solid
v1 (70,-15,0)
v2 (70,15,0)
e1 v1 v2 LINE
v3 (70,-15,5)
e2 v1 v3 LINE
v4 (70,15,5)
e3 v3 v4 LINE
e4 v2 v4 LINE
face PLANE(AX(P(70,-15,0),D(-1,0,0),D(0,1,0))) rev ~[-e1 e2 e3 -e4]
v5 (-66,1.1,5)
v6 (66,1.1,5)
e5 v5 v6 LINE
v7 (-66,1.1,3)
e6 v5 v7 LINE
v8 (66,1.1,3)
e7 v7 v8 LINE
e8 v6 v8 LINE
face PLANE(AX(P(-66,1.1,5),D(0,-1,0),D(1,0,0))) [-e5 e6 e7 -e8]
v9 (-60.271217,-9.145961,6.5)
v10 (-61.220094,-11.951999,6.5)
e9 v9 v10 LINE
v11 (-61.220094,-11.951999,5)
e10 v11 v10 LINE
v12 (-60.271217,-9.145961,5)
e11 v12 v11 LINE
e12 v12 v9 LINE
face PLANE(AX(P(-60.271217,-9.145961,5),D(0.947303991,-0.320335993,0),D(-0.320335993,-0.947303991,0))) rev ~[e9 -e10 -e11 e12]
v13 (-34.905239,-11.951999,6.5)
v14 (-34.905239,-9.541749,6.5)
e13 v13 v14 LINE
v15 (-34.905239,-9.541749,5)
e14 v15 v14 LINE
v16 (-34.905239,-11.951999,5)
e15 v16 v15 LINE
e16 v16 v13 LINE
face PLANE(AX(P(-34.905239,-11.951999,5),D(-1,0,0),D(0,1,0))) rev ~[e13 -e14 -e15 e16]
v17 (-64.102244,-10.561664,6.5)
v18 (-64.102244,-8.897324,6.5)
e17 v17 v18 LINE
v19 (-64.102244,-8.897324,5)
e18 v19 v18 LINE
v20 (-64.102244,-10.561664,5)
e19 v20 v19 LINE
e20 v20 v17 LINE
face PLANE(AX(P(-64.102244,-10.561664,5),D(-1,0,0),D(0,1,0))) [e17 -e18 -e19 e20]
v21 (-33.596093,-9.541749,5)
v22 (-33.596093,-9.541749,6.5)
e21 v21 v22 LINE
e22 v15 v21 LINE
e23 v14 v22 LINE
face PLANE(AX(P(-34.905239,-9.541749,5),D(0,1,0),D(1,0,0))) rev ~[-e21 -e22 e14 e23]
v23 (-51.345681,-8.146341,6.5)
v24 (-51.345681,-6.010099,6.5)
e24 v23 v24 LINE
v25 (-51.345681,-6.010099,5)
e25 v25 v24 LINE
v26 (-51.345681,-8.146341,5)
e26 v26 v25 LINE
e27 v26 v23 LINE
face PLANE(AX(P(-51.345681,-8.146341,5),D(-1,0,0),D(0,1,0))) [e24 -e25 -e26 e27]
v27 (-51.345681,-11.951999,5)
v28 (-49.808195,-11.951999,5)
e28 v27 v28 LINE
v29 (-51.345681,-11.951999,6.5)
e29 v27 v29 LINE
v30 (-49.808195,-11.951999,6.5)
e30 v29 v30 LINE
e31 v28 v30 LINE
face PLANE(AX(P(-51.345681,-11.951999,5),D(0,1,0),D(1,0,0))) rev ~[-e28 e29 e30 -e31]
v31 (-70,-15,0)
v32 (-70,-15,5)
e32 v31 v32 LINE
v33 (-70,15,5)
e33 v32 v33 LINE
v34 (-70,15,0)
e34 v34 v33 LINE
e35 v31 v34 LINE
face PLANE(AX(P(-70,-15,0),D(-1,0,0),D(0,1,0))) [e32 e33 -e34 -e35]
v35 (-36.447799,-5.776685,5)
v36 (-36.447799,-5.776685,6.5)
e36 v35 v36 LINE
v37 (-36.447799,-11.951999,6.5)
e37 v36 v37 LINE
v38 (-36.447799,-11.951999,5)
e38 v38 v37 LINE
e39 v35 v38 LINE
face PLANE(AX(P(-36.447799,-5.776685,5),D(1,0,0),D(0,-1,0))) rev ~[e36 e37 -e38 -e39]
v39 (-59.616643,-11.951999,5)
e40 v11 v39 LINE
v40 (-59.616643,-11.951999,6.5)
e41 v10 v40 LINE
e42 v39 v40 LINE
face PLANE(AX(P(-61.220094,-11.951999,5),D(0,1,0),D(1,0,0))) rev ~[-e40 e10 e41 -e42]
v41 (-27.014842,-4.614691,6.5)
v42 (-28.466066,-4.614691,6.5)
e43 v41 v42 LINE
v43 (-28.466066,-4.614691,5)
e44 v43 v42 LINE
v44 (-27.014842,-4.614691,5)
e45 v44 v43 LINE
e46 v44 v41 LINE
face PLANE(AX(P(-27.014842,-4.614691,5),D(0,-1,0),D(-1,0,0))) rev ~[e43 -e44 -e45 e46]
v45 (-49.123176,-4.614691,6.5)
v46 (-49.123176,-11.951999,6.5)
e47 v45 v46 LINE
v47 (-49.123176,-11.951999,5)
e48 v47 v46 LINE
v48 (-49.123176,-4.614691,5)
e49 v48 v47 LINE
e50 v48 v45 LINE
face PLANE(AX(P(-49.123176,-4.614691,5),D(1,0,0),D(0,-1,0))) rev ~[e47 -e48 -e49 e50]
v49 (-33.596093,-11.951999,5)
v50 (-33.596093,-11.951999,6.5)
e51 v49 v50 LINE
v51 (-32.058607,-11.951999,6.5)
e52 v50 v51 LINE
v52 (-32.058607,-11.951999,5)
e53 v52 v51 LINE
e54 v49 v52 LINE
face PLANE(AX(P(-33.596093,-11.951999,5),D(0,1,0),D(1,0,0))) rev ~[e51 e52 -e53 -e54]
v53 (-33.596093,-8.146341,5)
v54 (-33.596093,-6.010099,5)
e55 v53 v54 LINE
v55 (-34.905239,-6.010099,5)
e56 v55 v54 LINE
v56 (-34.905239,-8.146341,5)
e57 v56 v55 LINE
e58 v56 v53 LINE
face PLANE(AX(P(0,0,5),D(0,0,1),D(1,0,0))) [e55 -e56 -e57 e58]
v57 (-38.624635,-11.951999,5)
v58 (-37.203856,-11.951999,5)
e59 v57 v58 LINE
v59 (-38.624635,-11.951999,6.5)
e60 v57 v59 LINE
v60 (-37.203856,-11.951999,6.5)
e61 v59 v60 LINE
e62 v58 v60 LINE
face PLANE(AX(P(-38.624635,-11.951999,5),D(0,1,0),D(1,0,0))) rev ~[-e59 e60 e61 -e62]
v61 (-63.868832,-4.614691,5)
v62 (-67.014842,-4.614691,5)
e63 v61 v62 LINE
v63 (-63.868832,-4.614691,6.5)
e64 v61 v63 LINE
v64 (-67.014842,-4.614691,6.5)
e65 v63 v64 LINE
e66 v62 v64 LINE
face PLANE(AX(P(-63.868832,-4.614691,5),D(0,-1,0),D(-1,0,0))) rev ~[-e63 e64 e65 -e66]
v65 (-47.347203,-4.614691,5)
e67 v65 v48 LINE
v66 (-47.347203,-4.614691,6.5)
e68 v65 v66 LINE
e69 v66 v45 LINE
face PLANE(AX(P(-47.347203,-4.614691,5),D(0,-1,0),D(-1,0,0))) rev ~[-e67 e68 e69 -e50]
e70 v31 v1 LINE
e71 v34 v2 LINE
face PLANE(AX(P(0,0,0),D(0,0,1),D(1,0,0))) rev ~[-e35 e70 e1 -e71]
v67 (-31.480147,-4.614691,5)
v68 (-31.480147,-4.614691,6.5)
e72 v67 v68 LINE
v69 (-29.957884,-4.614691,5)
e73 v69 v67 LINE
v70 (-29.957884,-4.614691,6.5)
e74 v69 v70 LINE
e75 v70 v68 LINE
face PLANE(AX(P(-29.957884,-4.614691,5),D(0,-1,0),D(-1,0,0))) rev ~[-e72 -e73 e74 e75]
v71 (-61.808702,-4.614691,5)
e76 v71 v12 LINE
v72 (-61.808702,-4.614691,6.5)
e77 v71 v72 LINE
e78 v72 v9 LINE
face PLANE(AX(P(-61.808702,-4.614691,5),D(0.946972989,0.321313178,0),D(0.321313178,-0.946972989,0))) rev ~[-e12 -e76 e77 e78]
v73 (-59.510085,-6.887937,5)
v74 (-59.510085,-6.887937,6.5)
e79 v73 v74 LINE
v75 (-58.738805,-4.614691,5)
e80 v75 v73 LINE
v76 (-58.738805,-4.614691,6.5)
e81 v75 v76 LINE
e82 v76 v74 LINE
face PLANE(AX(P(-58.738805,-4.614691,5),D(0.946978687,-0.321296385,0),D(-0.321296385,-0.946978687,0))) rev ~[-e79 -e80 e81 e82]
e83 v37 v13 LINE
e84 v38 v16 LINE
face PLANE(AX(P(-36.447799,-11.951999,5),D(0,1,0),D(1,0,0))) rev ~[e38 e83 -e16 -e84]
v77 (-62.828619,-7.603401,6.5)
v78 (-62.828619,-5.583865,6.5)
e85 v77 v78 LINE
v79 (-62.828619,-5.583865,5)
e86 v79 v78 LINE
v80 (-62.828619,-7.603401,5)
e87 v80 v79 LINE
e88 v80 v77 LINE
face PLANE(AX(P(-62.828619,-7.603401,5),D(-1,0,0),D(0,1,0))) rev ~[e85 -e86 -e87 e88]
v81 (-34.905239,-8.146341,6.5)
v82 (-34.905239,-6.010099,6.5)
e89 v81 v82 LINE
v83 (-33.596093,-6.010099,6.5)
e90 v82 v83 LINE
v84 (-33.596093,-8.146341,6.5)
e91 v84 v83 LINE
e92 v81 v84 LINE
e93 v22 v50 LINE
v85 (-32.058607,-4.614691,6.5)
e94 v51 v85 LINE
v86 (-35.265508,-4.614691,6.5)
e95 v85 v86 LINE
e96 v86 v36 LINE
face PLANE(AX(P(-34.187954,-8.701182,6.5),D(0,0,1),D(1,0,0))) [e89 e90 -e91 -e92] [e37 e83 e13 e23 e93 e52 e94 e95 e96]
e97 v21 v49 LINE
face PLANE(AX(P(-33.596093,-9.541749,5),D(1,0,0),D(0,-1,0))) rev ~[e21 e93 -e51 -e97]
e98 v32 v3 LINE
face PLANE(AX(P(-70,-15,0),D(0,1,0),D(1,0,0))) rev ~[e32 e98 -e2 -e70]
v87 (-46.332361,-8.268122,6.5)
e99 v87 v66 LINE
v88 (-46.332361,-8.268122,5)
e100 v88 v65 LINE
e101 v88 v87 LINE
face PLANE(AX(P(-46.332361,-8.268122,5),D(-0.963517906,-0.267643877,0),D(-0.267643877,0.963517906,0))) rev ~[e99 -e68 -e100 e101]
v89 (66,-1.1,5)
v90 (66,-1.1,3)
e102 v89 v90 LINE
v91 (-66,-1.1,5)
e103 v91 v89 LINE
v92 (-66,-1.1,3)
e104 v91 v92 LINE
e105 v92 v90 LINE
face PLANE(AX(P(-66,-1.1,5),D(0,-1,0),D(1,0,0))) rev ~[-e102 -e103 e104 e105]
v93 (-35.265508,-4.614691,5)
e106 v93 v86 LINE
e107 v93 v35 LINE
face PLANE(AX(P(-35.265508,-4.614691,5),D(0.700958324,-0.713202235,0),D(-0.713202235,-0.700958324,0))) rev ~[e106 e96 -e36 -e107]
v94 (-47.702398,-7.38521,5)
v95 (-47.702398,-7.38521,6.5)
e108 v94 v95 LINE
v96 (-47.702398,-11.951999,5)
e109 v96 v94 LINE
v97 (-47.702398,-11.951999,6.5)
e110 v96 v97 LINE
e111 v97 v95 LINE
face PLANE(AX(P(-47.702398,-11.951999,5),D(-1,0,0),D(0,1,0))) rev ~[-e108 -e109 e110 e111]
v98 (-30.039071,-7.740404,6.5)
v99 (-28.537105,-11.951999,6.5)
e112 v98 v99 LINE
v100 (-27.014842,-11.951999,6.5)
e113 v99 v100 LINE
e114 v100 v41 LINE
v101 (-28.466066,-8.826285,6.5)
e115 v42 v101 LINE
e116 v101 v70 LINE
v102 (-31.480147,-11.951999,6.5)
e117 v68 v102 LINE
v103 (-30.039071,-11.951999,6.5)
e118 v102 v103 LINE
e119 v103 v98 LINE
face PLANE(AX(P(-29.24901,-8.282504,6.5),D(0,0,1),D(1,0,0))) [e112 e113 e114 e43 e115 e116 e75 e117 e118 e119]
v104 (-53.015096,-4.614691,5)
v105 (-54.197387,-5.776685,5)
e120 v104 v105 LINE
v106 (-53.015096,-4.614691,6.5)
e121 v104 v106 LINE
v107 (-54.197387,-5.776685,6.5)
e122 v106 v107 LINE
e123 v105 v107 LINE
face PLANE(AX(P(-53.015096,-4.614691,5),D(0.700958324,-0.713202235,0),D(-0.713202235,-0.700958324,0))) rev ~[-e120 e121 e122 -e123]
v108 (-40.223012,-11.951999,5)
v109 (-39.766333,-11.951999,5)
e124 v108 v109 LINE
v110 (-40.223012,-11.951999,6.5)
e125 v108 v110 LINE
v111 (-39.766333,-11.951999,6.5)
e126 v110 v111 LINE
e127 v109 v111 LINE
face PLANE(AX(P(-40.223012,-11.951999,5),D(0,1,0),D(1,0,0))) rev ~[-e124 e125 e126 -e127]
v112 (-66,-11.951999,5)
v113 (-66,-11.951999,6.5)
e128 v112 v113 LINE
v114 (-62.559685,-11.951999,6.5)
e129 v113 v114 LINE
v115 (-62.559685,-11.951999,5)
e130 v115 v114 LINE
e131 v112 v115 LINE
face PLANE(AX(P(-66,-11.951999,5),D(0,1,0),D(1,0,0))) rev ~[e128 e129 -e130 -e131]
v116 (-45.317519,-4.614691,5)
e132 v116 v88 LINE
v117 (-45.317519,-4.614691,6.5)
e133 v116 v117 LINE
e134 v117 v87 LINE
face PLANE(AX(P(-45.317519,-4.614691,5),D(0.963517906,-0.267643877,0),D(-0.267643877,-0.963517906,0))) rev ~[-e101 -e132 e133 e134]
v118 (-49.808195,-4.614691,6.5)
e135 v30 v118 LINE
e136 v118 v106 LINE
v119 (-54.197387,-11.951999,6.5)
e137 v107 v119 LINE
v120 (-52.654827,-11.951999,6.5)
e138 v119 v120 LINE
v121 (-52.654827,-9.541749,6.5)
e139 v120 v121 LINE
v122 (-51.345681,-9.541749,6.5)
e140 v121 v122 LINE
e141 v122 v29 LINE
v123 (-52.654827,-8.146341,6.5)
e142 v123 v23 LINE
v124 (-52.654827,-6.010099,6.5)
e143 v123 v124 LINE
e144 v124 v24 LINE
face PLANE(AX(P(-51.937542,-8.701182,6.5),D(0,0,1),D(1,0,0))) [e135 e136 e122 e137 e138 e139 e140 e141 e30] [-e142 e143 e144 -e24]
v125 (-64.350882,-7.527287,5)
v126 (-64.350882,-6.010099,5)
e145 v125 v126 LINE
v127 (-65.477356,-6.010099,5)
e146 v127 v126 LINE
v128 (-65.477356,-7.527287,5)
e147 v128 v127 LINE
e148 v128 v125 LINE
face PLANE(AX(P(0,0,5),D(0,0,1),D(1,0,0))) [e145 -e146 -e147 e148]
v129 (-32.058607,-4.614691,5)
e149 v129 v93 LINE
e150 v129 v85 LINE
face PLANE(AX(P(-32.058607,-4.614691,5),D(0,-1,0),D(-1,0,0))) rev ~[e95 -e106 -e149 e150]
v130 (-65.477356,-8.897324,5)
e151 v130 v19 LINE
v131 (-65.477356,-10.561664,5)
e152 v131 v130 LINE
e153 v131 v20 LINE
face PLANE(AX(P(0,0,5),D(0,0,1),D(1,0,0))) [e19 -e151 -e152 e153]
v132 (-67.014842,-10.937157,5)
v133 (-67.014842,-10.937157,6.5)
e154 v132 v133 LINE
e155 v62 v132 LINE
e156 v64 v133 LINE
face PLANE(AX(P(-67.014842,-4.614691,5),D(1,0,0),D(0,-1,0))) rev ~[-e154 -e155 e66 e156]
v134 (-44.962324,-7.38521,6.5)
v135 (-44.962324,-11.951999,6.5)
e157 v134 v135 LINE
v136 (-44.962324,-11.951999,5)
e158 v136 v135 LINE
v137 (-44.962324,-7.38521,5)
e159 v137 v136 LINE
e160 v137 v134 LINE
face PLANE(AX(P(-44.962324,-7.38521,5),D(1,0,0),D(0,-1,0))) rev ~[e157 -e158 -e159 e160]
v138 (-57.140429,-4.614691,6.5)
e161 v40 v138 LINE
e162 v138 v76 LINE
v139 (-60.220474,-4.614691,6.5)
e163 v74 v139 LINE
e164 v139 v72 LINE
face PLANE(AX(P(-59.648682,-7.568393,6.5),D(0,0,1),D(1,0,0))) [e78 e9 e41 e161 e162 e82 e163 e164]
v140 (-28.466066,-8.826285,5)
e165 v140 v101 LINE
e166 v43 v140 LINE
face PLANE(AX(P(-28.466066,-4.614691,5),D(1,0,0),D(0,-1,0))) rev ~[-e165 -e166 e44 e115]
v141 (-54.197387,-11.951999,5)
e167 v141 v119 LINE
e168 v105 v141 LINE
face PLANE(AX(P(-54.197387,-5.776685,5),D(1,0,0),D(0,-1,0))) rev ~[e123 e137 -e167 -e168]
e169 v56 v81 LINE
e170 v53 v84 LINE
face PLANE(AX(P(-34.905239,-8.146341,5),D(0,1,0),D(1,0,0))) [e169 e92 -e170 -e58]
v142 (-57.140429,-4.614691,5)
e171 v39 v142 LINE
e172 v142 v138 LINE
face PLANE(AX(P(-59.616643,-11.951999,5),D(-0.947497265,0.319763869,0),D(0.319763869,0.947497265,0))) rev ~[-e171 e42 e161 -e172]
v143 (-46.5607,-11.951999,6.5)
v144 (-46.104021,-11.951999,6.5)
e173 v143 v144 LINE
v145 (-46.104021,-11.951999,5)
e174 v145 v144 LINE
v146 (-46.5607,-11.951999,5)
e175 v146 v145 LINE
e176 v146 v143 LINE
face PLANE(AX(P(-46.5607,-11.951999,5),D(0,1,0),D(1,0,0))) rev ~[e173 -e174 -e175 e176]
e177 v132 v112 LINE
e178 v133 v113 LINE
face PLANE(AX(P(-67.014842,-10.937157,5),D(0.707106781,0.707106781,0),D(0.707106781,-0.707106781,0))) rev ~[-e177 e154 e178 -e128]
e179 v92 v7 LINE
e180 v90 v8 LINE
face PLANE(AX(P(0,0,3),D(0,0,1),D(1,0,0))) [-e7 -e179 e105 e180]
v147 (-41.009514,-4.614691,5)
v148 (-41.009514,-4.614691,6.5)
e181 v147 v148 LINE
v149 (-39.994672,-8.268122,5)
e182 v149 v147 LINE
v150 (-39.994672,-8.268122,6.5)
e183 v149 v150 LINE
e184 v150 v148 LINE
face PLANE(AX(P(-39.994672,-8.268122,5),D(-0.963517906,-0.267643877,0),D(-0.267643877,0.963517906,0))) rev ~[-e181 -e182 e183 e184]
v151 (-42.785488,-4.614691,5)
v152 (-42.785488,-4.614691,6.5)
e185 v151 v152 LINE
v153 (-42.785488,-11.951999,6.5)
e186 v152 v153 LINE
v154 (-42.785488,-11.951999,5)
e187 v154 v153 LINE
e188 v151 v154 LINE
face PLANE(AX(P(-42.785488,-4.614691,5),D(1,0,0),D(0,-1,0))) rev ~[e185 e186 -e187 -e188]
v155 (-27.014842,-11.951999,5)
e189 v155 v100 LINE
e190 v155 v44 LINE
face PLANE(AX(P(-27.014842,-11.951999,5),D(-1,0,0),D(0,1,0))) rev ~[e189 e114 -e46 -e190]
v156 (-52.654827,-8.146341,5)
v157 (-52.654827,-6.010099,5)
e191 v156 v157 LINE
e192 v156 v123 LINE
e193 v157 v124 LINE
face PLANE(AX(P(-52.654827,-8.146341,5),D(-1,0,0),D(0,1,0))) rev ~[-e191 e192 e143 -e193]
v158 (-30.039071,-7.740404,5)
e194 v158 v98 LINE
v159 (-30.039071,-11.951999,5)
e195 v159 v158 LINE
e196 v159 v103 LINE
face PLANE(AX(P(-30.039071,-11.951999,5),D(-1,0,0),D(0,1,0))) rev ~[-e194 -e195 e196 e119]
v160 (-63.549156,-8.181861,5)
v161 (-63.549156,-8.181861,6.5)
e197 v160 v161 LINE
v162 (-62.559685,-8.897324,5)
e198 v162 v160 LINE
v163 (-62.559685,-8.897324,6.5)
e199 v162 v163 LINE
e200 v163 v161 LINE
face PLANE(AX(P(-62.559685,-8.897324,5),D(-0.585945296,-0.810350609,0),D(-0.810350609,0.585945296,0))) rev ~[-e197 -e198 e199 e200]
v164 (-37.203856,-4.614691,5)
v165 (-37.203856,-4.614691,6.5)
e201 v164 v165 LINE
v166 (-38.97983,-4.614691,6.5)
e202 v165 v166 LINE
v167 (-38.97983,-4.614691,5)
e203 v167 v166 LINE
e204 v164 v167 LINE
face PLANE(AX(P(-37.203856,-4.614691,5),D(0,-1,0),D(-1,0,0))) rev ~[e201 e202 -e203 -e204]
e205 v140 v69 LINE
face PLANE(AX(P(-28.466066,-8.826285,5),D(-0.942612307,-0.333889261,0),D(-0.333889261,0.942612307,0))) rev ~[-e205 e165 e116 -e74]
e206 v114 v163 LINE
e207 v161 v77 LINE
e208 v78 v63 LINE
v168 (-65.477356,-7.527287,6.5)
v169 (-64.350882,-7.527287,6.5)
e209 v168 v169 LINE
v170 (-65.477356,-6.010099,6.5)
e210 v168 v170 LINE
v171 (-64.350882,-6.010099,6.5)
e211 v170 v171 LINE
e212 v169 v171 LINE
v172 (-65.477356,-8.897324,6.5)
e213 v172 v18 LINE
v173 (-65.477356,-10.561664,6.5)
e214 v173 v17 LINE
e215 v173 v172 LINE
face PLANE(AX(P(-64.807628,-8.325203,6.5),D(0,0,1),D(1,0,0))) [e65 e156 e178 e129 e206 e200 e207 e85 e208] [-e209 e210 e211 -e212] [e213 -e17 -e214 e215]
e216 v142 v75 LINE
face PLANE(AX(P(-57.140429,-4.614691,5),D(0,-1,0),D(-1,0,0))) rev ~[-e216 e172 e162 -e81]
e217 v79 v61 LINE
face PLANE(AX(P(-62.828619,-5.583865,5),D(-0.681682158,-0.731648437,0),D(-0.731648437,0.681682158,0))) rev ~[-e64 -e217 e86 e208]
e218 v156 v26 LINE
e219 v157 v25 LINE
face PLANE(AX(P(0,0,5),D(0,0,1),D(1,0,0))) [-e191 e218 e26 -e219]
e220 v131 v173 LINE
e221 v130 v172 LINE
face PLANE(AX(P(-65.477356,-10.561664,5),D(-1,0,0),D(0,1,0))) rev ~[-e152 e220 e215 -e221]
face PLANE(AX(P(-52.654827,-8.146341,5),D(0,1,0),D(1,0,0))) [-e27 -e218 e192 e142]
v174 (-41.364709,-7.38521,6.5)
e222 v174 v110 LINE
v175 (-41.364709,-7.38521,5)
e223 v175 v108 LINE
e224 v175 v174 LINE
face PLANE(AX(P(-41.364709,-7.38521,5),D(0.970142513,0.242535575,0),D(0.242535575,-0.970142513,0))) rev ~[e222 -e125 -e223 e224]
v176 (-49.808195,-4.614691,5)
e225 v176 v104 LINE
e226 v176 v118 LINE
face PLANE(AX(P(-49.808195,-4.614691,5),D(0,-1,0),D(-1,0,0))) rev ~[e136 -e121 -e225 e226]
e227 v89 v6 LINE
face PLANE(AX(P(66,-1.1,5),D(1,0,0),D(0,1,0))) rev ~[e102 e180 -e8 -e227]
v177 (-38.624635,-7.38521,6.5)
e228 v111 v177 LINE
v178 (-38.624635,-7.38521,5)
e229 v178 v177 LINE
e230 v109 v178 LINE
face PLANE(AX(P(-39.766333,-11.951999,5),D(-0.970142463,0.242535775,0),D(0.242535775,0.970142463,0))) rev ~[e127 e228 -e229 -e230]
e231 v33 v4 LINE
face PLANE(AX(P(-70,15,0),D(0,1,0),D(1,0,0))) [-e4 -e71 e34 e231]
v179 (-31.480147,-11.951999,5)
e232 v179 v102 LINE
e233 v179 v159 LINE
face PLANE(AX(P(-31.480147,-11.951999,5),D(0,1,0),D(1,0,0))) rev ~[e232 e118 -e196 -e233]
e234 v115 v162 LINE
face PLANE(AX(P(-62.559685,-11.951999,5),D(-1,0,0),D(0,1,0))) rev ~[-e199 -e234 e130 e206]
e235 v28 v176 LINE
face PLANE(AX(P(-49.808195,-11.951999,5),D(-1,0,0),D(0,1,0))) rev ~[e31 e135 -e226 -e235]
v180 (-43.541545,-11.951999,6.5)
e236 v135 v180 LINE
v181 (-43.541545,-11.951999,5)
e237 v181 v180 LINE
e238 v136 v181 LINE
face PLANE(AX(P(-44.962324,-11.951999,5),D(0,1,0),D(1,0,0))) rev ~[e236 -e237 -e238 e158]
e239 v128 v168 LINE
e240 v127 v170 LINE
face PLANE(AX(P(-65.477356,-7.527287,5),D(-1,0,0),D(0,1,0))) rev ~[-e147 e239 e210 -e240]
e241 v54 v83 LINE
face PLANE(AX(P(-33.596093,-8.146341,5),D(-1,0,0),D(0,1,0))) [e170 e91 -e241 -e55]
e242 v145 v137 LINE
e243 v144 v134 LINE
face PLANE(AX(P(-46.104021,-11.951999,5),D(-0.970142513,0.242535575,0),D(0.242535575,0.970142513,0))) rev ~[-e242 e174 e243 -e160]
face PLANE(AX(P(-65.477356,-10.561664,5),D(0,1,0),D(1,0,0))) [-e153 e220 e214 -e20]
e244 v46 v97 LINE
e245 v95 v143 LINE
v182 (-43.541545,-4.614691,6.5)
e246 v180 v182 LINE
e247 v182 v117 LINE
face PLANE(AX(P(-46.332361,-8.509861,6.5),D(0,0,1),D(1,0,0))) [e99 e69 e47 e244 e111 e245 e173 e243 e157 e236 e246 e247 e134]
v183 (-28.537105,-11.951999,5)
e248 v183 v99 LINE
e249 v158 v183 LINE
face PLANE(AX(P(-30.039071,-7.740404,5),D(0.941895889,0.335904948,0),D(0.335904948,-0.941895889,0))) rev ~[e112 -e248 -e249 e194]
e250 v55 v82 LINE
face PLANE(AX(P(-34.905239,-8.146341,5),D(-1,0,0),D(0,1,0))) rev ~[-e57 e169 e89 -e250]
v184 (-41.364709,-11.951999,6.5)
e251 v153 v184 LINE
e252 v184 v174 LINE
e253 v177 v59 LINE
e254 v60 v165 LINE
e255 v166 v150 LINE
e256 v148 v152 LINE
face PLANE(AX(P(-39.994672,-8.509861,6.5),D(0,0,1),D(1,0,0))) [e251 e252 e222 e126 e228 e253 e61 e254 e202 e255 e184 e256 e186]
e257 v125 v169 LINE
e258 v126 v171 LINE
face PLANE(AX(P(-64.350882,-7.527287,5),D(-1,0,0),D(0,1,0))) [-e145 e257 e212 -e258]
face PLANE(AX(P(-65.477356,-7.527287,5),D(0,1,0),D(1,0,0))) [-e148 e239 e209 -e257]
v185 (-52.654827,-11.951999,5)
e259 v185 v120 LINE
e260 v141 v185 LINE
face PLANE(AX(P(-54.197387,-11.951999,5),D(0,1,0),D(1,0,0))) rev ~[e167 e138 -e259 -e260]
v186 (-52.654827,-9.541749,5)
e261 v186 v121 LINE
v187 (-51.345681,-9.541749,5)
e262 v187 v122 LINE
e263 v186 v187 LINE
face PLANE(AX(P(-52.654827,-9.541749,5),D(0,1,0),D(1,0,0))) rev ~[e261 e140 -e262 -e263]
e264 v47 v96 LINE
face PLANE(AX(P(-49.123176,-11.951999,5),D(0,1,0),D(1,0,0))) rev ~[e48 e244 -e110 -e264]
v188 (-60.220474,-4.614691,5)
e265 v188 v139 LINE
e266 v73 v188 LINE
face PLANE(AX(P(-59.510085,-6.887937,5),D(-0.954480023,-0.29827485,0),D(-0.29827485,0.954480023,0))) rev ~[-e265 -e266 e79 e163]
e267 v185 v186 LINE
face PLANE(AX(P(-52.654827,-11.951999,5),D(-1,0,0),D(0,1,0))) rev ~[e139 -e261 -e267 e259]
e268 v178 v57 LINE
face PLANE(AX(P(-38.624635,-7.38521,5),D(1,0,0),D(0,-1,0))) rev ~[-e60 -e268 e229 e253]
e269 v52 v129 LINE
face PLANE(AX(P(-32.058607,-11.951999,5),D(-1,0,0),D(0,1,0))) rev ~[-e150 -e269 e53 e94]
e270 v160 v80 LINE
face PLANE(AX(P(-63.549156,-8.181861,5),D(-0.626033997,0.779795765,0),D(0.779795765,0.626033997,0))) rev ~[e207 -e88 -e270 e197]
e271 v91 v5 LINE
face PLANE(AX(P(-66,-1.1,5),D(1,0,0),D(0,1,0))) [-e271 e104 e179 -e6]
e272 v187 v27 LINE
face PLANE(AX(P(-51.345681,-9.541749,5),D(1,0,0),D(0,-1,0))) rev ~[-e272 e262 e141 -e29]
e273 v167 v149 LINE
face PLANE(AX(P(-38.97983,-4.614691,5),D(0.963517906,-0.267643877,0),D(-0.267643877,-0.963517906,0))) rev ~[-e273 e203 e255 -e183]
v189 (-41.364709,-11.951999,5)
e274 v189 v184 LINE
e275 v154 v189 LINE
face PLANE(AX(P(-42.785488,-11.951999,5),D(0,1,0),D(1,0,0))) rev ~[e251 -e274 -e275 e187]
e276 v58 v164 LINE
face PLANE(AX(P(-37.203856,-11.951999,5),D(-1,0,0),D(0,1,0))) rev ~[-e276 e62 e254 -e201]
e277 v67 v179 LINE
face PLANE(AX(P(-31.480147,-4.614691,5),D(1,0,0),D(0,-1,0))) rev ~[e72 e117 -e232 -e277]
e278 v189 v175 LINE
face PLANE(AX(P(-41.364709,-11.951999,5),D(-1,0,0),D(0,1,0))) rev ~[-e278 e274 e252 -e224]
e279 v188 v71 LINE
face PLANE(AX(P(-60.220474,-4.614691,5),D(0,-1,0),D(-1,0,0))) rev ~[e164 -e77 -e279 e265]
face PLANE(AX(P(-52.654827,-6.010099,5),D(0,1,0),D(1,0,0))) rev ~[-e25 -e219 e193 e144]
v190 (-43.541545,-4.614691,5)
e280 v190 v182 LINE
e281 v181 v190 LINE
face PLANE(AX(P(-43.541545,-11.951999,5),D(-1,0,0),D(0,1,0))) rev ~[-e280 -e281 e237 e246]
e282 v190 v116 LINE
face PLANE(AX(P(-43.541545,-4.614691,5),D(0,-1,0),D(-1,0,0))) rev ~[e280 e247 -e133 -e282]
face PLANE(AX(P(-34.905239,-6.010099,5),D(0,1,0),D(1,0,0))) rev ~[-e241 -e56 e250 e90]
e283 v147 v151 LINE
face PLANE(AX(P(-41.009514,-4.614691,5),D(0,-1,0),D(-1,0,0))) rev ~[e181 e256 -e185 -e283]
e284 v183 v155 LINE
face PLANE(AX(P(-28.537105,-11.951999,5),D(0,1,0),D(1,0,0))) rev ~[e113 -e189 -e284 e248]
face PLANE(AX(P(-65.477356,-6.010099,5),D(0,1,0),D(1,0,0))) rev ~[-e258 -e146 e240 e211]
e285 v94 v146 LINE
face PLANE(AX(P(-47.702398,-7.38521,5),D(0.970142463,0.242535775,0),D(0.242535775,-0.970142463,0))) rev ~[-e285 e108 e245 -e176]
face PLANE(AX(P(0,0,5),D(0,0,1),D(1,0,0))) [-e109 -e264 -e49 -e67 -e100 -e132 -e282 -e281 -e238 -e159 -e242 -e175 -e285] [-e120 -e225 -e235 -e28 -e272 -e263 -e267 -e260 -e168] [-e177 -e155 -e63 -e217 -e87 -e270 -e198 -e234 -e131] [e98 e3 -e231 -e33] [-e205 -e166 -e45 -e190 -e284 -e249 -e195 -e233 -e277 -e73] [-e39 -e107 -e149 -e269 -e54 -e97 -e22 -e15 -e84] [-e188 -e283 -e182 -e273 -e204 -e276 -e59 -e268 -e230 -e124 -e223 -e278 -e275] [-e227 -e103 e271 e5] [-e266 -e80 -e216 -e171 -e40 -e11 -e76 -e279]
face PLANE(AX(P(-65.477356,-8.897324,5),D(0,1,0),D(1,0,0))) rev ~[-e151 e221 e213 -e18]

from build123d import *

# Parameters (mm, degrees)
F0_W     = 140
F0_H     = 30
F1_DEPTH = 5
F2_W     = 132
F2_H     = 2.2
F3_DEPTH = 2
F4_W     = 1.375111
F4_H     = 1.664341
F4_W_2   = 1.126474
F4_H_2   = 1.517188
F4_W_3   = 1.309146
F4_H_3   = 2.136242
F5_DEPTH = 1.5


with BuildPart() as f1:
    # F0 (on Top) → F1 (new body)
    with BuildSketch(Plane.XY):
        Rectangle(F0_W, F0_H)
    extrude(amount=F1_DEPTH)

    # F2 (on face) → F3 (cut)
    with BuildSketch(Plane.XY.offset(5)):
        Rectangle(F2_W, F2_H)
    extrude(amount=-F3_DEPTH, mode=Mode.SUBTRACT)

    # F4 (on face) → F5 (join)
    with BuildSketch(Plane.XY.offset(5)):
        Polygon((-62.559685, -11.951999), (-62.559685, -8.897324), (-63.549156, -8.181861), (-62.828619, -7.603401), (-62.828619, -5.583865), (-63.868832, -4.614691), (-67.014842, -4.614691), (-67.014842, -10.937157), (-66, -11.951999), align=None)
        with Locations((-64.7898, -9.729494)):
            Rectangle(F4_W, F4_H, mode=Mode.SUBTRACT)
        with Locations((-64.914119, -6.768693)):
            Rectangle(F4_W_2, F4_H_2, mode=Mode.SUBTRACT)
        Polygon((-57.140429, -4.614691), (-58.738805, -4.614691), (-59.510085, -6.887937), (-60.220474, -4.614691), (-61.808702, -4.614691), (-60.271217, -9.145961), (-61.220094, -11.951999), (-59.616643, -11.951999), align=None)
        Polygon((-54.197387, -11.951999), (-52.654827, -11.951999), (-52.654827, -9.541749), (-51.345681, -9.541749), (-51.345681, -11.951999), (-49.808195, -11.951999), (-49.808195, -4.614691), (-53.015096, -4.614691), (-54.197387, -5.776685), align=None)
        with Locations((-52.000254, -7.07822)):
            Rectangle(F4_W_3, F4_H_3, mode=Mode.SUBTRACT)
        Polygon((-43.541545, -4.614691), (-45.317519, -4.614691), (-46.332361, -8.268122), (-47.347203, -4.614691), (-49.123176, -4.614691), (-49.123176, -11.951999), (-47.702398, -11.951999), (-47.702398, -7.38521), (-46.5607, -11.951999), (-46.104021, -11.951999), (-44.962324, -7.38521), (-44.962324, -11.951999), (-43.541545, -11.951999), align=None)
        Polygon((-37.203856, -4.614691), (-38.97983, -4.614691), (-39.994672, -8.268122), (-41.009514, -4.614691), (-42.785488, -4.614691), (-42.785488, -11.951999), (-41.364709, -11.951999), (-41.364709, -7.38521), (-40.223012, -11.951999), (-39.766333, -11.951999), (-38.624635, -7.38521), (-38.624635, -11.951999), (-37.203856, -11.951999), align=None)
        Polygon((-36.447799, -11.951999), (-34.905239, -11.951999), (-34.905239, -9.541749), (-33.596093, -9.541749), (-33.596093, -11.951999), (-32.058607, -11.951999), (-32.058607, -4.614691), (-35.265508, -4.614691), (-36.447799, -5.776685), align=None)
        with Locations((-34.250666, -7.07822)):
            Rectangle(F4_W_3, F4_H_3, mode=Mode.SUBTRACT)
        Polygon((-28.466066, -4.614691), (-28.466066, -8.826285), (-29.957884, -4.614691), (-31.480147, -4.614691), (-31.480147, -11.951999), (-30.039071, -11.951999), (-30.039071, -7.740404), (-28.537105, -11.951999), (-27.014842, -11.951999), (-27.014842, -4.614691), align=None)
    extrude(amount=F5_DEPTH)


solid = f1.part
